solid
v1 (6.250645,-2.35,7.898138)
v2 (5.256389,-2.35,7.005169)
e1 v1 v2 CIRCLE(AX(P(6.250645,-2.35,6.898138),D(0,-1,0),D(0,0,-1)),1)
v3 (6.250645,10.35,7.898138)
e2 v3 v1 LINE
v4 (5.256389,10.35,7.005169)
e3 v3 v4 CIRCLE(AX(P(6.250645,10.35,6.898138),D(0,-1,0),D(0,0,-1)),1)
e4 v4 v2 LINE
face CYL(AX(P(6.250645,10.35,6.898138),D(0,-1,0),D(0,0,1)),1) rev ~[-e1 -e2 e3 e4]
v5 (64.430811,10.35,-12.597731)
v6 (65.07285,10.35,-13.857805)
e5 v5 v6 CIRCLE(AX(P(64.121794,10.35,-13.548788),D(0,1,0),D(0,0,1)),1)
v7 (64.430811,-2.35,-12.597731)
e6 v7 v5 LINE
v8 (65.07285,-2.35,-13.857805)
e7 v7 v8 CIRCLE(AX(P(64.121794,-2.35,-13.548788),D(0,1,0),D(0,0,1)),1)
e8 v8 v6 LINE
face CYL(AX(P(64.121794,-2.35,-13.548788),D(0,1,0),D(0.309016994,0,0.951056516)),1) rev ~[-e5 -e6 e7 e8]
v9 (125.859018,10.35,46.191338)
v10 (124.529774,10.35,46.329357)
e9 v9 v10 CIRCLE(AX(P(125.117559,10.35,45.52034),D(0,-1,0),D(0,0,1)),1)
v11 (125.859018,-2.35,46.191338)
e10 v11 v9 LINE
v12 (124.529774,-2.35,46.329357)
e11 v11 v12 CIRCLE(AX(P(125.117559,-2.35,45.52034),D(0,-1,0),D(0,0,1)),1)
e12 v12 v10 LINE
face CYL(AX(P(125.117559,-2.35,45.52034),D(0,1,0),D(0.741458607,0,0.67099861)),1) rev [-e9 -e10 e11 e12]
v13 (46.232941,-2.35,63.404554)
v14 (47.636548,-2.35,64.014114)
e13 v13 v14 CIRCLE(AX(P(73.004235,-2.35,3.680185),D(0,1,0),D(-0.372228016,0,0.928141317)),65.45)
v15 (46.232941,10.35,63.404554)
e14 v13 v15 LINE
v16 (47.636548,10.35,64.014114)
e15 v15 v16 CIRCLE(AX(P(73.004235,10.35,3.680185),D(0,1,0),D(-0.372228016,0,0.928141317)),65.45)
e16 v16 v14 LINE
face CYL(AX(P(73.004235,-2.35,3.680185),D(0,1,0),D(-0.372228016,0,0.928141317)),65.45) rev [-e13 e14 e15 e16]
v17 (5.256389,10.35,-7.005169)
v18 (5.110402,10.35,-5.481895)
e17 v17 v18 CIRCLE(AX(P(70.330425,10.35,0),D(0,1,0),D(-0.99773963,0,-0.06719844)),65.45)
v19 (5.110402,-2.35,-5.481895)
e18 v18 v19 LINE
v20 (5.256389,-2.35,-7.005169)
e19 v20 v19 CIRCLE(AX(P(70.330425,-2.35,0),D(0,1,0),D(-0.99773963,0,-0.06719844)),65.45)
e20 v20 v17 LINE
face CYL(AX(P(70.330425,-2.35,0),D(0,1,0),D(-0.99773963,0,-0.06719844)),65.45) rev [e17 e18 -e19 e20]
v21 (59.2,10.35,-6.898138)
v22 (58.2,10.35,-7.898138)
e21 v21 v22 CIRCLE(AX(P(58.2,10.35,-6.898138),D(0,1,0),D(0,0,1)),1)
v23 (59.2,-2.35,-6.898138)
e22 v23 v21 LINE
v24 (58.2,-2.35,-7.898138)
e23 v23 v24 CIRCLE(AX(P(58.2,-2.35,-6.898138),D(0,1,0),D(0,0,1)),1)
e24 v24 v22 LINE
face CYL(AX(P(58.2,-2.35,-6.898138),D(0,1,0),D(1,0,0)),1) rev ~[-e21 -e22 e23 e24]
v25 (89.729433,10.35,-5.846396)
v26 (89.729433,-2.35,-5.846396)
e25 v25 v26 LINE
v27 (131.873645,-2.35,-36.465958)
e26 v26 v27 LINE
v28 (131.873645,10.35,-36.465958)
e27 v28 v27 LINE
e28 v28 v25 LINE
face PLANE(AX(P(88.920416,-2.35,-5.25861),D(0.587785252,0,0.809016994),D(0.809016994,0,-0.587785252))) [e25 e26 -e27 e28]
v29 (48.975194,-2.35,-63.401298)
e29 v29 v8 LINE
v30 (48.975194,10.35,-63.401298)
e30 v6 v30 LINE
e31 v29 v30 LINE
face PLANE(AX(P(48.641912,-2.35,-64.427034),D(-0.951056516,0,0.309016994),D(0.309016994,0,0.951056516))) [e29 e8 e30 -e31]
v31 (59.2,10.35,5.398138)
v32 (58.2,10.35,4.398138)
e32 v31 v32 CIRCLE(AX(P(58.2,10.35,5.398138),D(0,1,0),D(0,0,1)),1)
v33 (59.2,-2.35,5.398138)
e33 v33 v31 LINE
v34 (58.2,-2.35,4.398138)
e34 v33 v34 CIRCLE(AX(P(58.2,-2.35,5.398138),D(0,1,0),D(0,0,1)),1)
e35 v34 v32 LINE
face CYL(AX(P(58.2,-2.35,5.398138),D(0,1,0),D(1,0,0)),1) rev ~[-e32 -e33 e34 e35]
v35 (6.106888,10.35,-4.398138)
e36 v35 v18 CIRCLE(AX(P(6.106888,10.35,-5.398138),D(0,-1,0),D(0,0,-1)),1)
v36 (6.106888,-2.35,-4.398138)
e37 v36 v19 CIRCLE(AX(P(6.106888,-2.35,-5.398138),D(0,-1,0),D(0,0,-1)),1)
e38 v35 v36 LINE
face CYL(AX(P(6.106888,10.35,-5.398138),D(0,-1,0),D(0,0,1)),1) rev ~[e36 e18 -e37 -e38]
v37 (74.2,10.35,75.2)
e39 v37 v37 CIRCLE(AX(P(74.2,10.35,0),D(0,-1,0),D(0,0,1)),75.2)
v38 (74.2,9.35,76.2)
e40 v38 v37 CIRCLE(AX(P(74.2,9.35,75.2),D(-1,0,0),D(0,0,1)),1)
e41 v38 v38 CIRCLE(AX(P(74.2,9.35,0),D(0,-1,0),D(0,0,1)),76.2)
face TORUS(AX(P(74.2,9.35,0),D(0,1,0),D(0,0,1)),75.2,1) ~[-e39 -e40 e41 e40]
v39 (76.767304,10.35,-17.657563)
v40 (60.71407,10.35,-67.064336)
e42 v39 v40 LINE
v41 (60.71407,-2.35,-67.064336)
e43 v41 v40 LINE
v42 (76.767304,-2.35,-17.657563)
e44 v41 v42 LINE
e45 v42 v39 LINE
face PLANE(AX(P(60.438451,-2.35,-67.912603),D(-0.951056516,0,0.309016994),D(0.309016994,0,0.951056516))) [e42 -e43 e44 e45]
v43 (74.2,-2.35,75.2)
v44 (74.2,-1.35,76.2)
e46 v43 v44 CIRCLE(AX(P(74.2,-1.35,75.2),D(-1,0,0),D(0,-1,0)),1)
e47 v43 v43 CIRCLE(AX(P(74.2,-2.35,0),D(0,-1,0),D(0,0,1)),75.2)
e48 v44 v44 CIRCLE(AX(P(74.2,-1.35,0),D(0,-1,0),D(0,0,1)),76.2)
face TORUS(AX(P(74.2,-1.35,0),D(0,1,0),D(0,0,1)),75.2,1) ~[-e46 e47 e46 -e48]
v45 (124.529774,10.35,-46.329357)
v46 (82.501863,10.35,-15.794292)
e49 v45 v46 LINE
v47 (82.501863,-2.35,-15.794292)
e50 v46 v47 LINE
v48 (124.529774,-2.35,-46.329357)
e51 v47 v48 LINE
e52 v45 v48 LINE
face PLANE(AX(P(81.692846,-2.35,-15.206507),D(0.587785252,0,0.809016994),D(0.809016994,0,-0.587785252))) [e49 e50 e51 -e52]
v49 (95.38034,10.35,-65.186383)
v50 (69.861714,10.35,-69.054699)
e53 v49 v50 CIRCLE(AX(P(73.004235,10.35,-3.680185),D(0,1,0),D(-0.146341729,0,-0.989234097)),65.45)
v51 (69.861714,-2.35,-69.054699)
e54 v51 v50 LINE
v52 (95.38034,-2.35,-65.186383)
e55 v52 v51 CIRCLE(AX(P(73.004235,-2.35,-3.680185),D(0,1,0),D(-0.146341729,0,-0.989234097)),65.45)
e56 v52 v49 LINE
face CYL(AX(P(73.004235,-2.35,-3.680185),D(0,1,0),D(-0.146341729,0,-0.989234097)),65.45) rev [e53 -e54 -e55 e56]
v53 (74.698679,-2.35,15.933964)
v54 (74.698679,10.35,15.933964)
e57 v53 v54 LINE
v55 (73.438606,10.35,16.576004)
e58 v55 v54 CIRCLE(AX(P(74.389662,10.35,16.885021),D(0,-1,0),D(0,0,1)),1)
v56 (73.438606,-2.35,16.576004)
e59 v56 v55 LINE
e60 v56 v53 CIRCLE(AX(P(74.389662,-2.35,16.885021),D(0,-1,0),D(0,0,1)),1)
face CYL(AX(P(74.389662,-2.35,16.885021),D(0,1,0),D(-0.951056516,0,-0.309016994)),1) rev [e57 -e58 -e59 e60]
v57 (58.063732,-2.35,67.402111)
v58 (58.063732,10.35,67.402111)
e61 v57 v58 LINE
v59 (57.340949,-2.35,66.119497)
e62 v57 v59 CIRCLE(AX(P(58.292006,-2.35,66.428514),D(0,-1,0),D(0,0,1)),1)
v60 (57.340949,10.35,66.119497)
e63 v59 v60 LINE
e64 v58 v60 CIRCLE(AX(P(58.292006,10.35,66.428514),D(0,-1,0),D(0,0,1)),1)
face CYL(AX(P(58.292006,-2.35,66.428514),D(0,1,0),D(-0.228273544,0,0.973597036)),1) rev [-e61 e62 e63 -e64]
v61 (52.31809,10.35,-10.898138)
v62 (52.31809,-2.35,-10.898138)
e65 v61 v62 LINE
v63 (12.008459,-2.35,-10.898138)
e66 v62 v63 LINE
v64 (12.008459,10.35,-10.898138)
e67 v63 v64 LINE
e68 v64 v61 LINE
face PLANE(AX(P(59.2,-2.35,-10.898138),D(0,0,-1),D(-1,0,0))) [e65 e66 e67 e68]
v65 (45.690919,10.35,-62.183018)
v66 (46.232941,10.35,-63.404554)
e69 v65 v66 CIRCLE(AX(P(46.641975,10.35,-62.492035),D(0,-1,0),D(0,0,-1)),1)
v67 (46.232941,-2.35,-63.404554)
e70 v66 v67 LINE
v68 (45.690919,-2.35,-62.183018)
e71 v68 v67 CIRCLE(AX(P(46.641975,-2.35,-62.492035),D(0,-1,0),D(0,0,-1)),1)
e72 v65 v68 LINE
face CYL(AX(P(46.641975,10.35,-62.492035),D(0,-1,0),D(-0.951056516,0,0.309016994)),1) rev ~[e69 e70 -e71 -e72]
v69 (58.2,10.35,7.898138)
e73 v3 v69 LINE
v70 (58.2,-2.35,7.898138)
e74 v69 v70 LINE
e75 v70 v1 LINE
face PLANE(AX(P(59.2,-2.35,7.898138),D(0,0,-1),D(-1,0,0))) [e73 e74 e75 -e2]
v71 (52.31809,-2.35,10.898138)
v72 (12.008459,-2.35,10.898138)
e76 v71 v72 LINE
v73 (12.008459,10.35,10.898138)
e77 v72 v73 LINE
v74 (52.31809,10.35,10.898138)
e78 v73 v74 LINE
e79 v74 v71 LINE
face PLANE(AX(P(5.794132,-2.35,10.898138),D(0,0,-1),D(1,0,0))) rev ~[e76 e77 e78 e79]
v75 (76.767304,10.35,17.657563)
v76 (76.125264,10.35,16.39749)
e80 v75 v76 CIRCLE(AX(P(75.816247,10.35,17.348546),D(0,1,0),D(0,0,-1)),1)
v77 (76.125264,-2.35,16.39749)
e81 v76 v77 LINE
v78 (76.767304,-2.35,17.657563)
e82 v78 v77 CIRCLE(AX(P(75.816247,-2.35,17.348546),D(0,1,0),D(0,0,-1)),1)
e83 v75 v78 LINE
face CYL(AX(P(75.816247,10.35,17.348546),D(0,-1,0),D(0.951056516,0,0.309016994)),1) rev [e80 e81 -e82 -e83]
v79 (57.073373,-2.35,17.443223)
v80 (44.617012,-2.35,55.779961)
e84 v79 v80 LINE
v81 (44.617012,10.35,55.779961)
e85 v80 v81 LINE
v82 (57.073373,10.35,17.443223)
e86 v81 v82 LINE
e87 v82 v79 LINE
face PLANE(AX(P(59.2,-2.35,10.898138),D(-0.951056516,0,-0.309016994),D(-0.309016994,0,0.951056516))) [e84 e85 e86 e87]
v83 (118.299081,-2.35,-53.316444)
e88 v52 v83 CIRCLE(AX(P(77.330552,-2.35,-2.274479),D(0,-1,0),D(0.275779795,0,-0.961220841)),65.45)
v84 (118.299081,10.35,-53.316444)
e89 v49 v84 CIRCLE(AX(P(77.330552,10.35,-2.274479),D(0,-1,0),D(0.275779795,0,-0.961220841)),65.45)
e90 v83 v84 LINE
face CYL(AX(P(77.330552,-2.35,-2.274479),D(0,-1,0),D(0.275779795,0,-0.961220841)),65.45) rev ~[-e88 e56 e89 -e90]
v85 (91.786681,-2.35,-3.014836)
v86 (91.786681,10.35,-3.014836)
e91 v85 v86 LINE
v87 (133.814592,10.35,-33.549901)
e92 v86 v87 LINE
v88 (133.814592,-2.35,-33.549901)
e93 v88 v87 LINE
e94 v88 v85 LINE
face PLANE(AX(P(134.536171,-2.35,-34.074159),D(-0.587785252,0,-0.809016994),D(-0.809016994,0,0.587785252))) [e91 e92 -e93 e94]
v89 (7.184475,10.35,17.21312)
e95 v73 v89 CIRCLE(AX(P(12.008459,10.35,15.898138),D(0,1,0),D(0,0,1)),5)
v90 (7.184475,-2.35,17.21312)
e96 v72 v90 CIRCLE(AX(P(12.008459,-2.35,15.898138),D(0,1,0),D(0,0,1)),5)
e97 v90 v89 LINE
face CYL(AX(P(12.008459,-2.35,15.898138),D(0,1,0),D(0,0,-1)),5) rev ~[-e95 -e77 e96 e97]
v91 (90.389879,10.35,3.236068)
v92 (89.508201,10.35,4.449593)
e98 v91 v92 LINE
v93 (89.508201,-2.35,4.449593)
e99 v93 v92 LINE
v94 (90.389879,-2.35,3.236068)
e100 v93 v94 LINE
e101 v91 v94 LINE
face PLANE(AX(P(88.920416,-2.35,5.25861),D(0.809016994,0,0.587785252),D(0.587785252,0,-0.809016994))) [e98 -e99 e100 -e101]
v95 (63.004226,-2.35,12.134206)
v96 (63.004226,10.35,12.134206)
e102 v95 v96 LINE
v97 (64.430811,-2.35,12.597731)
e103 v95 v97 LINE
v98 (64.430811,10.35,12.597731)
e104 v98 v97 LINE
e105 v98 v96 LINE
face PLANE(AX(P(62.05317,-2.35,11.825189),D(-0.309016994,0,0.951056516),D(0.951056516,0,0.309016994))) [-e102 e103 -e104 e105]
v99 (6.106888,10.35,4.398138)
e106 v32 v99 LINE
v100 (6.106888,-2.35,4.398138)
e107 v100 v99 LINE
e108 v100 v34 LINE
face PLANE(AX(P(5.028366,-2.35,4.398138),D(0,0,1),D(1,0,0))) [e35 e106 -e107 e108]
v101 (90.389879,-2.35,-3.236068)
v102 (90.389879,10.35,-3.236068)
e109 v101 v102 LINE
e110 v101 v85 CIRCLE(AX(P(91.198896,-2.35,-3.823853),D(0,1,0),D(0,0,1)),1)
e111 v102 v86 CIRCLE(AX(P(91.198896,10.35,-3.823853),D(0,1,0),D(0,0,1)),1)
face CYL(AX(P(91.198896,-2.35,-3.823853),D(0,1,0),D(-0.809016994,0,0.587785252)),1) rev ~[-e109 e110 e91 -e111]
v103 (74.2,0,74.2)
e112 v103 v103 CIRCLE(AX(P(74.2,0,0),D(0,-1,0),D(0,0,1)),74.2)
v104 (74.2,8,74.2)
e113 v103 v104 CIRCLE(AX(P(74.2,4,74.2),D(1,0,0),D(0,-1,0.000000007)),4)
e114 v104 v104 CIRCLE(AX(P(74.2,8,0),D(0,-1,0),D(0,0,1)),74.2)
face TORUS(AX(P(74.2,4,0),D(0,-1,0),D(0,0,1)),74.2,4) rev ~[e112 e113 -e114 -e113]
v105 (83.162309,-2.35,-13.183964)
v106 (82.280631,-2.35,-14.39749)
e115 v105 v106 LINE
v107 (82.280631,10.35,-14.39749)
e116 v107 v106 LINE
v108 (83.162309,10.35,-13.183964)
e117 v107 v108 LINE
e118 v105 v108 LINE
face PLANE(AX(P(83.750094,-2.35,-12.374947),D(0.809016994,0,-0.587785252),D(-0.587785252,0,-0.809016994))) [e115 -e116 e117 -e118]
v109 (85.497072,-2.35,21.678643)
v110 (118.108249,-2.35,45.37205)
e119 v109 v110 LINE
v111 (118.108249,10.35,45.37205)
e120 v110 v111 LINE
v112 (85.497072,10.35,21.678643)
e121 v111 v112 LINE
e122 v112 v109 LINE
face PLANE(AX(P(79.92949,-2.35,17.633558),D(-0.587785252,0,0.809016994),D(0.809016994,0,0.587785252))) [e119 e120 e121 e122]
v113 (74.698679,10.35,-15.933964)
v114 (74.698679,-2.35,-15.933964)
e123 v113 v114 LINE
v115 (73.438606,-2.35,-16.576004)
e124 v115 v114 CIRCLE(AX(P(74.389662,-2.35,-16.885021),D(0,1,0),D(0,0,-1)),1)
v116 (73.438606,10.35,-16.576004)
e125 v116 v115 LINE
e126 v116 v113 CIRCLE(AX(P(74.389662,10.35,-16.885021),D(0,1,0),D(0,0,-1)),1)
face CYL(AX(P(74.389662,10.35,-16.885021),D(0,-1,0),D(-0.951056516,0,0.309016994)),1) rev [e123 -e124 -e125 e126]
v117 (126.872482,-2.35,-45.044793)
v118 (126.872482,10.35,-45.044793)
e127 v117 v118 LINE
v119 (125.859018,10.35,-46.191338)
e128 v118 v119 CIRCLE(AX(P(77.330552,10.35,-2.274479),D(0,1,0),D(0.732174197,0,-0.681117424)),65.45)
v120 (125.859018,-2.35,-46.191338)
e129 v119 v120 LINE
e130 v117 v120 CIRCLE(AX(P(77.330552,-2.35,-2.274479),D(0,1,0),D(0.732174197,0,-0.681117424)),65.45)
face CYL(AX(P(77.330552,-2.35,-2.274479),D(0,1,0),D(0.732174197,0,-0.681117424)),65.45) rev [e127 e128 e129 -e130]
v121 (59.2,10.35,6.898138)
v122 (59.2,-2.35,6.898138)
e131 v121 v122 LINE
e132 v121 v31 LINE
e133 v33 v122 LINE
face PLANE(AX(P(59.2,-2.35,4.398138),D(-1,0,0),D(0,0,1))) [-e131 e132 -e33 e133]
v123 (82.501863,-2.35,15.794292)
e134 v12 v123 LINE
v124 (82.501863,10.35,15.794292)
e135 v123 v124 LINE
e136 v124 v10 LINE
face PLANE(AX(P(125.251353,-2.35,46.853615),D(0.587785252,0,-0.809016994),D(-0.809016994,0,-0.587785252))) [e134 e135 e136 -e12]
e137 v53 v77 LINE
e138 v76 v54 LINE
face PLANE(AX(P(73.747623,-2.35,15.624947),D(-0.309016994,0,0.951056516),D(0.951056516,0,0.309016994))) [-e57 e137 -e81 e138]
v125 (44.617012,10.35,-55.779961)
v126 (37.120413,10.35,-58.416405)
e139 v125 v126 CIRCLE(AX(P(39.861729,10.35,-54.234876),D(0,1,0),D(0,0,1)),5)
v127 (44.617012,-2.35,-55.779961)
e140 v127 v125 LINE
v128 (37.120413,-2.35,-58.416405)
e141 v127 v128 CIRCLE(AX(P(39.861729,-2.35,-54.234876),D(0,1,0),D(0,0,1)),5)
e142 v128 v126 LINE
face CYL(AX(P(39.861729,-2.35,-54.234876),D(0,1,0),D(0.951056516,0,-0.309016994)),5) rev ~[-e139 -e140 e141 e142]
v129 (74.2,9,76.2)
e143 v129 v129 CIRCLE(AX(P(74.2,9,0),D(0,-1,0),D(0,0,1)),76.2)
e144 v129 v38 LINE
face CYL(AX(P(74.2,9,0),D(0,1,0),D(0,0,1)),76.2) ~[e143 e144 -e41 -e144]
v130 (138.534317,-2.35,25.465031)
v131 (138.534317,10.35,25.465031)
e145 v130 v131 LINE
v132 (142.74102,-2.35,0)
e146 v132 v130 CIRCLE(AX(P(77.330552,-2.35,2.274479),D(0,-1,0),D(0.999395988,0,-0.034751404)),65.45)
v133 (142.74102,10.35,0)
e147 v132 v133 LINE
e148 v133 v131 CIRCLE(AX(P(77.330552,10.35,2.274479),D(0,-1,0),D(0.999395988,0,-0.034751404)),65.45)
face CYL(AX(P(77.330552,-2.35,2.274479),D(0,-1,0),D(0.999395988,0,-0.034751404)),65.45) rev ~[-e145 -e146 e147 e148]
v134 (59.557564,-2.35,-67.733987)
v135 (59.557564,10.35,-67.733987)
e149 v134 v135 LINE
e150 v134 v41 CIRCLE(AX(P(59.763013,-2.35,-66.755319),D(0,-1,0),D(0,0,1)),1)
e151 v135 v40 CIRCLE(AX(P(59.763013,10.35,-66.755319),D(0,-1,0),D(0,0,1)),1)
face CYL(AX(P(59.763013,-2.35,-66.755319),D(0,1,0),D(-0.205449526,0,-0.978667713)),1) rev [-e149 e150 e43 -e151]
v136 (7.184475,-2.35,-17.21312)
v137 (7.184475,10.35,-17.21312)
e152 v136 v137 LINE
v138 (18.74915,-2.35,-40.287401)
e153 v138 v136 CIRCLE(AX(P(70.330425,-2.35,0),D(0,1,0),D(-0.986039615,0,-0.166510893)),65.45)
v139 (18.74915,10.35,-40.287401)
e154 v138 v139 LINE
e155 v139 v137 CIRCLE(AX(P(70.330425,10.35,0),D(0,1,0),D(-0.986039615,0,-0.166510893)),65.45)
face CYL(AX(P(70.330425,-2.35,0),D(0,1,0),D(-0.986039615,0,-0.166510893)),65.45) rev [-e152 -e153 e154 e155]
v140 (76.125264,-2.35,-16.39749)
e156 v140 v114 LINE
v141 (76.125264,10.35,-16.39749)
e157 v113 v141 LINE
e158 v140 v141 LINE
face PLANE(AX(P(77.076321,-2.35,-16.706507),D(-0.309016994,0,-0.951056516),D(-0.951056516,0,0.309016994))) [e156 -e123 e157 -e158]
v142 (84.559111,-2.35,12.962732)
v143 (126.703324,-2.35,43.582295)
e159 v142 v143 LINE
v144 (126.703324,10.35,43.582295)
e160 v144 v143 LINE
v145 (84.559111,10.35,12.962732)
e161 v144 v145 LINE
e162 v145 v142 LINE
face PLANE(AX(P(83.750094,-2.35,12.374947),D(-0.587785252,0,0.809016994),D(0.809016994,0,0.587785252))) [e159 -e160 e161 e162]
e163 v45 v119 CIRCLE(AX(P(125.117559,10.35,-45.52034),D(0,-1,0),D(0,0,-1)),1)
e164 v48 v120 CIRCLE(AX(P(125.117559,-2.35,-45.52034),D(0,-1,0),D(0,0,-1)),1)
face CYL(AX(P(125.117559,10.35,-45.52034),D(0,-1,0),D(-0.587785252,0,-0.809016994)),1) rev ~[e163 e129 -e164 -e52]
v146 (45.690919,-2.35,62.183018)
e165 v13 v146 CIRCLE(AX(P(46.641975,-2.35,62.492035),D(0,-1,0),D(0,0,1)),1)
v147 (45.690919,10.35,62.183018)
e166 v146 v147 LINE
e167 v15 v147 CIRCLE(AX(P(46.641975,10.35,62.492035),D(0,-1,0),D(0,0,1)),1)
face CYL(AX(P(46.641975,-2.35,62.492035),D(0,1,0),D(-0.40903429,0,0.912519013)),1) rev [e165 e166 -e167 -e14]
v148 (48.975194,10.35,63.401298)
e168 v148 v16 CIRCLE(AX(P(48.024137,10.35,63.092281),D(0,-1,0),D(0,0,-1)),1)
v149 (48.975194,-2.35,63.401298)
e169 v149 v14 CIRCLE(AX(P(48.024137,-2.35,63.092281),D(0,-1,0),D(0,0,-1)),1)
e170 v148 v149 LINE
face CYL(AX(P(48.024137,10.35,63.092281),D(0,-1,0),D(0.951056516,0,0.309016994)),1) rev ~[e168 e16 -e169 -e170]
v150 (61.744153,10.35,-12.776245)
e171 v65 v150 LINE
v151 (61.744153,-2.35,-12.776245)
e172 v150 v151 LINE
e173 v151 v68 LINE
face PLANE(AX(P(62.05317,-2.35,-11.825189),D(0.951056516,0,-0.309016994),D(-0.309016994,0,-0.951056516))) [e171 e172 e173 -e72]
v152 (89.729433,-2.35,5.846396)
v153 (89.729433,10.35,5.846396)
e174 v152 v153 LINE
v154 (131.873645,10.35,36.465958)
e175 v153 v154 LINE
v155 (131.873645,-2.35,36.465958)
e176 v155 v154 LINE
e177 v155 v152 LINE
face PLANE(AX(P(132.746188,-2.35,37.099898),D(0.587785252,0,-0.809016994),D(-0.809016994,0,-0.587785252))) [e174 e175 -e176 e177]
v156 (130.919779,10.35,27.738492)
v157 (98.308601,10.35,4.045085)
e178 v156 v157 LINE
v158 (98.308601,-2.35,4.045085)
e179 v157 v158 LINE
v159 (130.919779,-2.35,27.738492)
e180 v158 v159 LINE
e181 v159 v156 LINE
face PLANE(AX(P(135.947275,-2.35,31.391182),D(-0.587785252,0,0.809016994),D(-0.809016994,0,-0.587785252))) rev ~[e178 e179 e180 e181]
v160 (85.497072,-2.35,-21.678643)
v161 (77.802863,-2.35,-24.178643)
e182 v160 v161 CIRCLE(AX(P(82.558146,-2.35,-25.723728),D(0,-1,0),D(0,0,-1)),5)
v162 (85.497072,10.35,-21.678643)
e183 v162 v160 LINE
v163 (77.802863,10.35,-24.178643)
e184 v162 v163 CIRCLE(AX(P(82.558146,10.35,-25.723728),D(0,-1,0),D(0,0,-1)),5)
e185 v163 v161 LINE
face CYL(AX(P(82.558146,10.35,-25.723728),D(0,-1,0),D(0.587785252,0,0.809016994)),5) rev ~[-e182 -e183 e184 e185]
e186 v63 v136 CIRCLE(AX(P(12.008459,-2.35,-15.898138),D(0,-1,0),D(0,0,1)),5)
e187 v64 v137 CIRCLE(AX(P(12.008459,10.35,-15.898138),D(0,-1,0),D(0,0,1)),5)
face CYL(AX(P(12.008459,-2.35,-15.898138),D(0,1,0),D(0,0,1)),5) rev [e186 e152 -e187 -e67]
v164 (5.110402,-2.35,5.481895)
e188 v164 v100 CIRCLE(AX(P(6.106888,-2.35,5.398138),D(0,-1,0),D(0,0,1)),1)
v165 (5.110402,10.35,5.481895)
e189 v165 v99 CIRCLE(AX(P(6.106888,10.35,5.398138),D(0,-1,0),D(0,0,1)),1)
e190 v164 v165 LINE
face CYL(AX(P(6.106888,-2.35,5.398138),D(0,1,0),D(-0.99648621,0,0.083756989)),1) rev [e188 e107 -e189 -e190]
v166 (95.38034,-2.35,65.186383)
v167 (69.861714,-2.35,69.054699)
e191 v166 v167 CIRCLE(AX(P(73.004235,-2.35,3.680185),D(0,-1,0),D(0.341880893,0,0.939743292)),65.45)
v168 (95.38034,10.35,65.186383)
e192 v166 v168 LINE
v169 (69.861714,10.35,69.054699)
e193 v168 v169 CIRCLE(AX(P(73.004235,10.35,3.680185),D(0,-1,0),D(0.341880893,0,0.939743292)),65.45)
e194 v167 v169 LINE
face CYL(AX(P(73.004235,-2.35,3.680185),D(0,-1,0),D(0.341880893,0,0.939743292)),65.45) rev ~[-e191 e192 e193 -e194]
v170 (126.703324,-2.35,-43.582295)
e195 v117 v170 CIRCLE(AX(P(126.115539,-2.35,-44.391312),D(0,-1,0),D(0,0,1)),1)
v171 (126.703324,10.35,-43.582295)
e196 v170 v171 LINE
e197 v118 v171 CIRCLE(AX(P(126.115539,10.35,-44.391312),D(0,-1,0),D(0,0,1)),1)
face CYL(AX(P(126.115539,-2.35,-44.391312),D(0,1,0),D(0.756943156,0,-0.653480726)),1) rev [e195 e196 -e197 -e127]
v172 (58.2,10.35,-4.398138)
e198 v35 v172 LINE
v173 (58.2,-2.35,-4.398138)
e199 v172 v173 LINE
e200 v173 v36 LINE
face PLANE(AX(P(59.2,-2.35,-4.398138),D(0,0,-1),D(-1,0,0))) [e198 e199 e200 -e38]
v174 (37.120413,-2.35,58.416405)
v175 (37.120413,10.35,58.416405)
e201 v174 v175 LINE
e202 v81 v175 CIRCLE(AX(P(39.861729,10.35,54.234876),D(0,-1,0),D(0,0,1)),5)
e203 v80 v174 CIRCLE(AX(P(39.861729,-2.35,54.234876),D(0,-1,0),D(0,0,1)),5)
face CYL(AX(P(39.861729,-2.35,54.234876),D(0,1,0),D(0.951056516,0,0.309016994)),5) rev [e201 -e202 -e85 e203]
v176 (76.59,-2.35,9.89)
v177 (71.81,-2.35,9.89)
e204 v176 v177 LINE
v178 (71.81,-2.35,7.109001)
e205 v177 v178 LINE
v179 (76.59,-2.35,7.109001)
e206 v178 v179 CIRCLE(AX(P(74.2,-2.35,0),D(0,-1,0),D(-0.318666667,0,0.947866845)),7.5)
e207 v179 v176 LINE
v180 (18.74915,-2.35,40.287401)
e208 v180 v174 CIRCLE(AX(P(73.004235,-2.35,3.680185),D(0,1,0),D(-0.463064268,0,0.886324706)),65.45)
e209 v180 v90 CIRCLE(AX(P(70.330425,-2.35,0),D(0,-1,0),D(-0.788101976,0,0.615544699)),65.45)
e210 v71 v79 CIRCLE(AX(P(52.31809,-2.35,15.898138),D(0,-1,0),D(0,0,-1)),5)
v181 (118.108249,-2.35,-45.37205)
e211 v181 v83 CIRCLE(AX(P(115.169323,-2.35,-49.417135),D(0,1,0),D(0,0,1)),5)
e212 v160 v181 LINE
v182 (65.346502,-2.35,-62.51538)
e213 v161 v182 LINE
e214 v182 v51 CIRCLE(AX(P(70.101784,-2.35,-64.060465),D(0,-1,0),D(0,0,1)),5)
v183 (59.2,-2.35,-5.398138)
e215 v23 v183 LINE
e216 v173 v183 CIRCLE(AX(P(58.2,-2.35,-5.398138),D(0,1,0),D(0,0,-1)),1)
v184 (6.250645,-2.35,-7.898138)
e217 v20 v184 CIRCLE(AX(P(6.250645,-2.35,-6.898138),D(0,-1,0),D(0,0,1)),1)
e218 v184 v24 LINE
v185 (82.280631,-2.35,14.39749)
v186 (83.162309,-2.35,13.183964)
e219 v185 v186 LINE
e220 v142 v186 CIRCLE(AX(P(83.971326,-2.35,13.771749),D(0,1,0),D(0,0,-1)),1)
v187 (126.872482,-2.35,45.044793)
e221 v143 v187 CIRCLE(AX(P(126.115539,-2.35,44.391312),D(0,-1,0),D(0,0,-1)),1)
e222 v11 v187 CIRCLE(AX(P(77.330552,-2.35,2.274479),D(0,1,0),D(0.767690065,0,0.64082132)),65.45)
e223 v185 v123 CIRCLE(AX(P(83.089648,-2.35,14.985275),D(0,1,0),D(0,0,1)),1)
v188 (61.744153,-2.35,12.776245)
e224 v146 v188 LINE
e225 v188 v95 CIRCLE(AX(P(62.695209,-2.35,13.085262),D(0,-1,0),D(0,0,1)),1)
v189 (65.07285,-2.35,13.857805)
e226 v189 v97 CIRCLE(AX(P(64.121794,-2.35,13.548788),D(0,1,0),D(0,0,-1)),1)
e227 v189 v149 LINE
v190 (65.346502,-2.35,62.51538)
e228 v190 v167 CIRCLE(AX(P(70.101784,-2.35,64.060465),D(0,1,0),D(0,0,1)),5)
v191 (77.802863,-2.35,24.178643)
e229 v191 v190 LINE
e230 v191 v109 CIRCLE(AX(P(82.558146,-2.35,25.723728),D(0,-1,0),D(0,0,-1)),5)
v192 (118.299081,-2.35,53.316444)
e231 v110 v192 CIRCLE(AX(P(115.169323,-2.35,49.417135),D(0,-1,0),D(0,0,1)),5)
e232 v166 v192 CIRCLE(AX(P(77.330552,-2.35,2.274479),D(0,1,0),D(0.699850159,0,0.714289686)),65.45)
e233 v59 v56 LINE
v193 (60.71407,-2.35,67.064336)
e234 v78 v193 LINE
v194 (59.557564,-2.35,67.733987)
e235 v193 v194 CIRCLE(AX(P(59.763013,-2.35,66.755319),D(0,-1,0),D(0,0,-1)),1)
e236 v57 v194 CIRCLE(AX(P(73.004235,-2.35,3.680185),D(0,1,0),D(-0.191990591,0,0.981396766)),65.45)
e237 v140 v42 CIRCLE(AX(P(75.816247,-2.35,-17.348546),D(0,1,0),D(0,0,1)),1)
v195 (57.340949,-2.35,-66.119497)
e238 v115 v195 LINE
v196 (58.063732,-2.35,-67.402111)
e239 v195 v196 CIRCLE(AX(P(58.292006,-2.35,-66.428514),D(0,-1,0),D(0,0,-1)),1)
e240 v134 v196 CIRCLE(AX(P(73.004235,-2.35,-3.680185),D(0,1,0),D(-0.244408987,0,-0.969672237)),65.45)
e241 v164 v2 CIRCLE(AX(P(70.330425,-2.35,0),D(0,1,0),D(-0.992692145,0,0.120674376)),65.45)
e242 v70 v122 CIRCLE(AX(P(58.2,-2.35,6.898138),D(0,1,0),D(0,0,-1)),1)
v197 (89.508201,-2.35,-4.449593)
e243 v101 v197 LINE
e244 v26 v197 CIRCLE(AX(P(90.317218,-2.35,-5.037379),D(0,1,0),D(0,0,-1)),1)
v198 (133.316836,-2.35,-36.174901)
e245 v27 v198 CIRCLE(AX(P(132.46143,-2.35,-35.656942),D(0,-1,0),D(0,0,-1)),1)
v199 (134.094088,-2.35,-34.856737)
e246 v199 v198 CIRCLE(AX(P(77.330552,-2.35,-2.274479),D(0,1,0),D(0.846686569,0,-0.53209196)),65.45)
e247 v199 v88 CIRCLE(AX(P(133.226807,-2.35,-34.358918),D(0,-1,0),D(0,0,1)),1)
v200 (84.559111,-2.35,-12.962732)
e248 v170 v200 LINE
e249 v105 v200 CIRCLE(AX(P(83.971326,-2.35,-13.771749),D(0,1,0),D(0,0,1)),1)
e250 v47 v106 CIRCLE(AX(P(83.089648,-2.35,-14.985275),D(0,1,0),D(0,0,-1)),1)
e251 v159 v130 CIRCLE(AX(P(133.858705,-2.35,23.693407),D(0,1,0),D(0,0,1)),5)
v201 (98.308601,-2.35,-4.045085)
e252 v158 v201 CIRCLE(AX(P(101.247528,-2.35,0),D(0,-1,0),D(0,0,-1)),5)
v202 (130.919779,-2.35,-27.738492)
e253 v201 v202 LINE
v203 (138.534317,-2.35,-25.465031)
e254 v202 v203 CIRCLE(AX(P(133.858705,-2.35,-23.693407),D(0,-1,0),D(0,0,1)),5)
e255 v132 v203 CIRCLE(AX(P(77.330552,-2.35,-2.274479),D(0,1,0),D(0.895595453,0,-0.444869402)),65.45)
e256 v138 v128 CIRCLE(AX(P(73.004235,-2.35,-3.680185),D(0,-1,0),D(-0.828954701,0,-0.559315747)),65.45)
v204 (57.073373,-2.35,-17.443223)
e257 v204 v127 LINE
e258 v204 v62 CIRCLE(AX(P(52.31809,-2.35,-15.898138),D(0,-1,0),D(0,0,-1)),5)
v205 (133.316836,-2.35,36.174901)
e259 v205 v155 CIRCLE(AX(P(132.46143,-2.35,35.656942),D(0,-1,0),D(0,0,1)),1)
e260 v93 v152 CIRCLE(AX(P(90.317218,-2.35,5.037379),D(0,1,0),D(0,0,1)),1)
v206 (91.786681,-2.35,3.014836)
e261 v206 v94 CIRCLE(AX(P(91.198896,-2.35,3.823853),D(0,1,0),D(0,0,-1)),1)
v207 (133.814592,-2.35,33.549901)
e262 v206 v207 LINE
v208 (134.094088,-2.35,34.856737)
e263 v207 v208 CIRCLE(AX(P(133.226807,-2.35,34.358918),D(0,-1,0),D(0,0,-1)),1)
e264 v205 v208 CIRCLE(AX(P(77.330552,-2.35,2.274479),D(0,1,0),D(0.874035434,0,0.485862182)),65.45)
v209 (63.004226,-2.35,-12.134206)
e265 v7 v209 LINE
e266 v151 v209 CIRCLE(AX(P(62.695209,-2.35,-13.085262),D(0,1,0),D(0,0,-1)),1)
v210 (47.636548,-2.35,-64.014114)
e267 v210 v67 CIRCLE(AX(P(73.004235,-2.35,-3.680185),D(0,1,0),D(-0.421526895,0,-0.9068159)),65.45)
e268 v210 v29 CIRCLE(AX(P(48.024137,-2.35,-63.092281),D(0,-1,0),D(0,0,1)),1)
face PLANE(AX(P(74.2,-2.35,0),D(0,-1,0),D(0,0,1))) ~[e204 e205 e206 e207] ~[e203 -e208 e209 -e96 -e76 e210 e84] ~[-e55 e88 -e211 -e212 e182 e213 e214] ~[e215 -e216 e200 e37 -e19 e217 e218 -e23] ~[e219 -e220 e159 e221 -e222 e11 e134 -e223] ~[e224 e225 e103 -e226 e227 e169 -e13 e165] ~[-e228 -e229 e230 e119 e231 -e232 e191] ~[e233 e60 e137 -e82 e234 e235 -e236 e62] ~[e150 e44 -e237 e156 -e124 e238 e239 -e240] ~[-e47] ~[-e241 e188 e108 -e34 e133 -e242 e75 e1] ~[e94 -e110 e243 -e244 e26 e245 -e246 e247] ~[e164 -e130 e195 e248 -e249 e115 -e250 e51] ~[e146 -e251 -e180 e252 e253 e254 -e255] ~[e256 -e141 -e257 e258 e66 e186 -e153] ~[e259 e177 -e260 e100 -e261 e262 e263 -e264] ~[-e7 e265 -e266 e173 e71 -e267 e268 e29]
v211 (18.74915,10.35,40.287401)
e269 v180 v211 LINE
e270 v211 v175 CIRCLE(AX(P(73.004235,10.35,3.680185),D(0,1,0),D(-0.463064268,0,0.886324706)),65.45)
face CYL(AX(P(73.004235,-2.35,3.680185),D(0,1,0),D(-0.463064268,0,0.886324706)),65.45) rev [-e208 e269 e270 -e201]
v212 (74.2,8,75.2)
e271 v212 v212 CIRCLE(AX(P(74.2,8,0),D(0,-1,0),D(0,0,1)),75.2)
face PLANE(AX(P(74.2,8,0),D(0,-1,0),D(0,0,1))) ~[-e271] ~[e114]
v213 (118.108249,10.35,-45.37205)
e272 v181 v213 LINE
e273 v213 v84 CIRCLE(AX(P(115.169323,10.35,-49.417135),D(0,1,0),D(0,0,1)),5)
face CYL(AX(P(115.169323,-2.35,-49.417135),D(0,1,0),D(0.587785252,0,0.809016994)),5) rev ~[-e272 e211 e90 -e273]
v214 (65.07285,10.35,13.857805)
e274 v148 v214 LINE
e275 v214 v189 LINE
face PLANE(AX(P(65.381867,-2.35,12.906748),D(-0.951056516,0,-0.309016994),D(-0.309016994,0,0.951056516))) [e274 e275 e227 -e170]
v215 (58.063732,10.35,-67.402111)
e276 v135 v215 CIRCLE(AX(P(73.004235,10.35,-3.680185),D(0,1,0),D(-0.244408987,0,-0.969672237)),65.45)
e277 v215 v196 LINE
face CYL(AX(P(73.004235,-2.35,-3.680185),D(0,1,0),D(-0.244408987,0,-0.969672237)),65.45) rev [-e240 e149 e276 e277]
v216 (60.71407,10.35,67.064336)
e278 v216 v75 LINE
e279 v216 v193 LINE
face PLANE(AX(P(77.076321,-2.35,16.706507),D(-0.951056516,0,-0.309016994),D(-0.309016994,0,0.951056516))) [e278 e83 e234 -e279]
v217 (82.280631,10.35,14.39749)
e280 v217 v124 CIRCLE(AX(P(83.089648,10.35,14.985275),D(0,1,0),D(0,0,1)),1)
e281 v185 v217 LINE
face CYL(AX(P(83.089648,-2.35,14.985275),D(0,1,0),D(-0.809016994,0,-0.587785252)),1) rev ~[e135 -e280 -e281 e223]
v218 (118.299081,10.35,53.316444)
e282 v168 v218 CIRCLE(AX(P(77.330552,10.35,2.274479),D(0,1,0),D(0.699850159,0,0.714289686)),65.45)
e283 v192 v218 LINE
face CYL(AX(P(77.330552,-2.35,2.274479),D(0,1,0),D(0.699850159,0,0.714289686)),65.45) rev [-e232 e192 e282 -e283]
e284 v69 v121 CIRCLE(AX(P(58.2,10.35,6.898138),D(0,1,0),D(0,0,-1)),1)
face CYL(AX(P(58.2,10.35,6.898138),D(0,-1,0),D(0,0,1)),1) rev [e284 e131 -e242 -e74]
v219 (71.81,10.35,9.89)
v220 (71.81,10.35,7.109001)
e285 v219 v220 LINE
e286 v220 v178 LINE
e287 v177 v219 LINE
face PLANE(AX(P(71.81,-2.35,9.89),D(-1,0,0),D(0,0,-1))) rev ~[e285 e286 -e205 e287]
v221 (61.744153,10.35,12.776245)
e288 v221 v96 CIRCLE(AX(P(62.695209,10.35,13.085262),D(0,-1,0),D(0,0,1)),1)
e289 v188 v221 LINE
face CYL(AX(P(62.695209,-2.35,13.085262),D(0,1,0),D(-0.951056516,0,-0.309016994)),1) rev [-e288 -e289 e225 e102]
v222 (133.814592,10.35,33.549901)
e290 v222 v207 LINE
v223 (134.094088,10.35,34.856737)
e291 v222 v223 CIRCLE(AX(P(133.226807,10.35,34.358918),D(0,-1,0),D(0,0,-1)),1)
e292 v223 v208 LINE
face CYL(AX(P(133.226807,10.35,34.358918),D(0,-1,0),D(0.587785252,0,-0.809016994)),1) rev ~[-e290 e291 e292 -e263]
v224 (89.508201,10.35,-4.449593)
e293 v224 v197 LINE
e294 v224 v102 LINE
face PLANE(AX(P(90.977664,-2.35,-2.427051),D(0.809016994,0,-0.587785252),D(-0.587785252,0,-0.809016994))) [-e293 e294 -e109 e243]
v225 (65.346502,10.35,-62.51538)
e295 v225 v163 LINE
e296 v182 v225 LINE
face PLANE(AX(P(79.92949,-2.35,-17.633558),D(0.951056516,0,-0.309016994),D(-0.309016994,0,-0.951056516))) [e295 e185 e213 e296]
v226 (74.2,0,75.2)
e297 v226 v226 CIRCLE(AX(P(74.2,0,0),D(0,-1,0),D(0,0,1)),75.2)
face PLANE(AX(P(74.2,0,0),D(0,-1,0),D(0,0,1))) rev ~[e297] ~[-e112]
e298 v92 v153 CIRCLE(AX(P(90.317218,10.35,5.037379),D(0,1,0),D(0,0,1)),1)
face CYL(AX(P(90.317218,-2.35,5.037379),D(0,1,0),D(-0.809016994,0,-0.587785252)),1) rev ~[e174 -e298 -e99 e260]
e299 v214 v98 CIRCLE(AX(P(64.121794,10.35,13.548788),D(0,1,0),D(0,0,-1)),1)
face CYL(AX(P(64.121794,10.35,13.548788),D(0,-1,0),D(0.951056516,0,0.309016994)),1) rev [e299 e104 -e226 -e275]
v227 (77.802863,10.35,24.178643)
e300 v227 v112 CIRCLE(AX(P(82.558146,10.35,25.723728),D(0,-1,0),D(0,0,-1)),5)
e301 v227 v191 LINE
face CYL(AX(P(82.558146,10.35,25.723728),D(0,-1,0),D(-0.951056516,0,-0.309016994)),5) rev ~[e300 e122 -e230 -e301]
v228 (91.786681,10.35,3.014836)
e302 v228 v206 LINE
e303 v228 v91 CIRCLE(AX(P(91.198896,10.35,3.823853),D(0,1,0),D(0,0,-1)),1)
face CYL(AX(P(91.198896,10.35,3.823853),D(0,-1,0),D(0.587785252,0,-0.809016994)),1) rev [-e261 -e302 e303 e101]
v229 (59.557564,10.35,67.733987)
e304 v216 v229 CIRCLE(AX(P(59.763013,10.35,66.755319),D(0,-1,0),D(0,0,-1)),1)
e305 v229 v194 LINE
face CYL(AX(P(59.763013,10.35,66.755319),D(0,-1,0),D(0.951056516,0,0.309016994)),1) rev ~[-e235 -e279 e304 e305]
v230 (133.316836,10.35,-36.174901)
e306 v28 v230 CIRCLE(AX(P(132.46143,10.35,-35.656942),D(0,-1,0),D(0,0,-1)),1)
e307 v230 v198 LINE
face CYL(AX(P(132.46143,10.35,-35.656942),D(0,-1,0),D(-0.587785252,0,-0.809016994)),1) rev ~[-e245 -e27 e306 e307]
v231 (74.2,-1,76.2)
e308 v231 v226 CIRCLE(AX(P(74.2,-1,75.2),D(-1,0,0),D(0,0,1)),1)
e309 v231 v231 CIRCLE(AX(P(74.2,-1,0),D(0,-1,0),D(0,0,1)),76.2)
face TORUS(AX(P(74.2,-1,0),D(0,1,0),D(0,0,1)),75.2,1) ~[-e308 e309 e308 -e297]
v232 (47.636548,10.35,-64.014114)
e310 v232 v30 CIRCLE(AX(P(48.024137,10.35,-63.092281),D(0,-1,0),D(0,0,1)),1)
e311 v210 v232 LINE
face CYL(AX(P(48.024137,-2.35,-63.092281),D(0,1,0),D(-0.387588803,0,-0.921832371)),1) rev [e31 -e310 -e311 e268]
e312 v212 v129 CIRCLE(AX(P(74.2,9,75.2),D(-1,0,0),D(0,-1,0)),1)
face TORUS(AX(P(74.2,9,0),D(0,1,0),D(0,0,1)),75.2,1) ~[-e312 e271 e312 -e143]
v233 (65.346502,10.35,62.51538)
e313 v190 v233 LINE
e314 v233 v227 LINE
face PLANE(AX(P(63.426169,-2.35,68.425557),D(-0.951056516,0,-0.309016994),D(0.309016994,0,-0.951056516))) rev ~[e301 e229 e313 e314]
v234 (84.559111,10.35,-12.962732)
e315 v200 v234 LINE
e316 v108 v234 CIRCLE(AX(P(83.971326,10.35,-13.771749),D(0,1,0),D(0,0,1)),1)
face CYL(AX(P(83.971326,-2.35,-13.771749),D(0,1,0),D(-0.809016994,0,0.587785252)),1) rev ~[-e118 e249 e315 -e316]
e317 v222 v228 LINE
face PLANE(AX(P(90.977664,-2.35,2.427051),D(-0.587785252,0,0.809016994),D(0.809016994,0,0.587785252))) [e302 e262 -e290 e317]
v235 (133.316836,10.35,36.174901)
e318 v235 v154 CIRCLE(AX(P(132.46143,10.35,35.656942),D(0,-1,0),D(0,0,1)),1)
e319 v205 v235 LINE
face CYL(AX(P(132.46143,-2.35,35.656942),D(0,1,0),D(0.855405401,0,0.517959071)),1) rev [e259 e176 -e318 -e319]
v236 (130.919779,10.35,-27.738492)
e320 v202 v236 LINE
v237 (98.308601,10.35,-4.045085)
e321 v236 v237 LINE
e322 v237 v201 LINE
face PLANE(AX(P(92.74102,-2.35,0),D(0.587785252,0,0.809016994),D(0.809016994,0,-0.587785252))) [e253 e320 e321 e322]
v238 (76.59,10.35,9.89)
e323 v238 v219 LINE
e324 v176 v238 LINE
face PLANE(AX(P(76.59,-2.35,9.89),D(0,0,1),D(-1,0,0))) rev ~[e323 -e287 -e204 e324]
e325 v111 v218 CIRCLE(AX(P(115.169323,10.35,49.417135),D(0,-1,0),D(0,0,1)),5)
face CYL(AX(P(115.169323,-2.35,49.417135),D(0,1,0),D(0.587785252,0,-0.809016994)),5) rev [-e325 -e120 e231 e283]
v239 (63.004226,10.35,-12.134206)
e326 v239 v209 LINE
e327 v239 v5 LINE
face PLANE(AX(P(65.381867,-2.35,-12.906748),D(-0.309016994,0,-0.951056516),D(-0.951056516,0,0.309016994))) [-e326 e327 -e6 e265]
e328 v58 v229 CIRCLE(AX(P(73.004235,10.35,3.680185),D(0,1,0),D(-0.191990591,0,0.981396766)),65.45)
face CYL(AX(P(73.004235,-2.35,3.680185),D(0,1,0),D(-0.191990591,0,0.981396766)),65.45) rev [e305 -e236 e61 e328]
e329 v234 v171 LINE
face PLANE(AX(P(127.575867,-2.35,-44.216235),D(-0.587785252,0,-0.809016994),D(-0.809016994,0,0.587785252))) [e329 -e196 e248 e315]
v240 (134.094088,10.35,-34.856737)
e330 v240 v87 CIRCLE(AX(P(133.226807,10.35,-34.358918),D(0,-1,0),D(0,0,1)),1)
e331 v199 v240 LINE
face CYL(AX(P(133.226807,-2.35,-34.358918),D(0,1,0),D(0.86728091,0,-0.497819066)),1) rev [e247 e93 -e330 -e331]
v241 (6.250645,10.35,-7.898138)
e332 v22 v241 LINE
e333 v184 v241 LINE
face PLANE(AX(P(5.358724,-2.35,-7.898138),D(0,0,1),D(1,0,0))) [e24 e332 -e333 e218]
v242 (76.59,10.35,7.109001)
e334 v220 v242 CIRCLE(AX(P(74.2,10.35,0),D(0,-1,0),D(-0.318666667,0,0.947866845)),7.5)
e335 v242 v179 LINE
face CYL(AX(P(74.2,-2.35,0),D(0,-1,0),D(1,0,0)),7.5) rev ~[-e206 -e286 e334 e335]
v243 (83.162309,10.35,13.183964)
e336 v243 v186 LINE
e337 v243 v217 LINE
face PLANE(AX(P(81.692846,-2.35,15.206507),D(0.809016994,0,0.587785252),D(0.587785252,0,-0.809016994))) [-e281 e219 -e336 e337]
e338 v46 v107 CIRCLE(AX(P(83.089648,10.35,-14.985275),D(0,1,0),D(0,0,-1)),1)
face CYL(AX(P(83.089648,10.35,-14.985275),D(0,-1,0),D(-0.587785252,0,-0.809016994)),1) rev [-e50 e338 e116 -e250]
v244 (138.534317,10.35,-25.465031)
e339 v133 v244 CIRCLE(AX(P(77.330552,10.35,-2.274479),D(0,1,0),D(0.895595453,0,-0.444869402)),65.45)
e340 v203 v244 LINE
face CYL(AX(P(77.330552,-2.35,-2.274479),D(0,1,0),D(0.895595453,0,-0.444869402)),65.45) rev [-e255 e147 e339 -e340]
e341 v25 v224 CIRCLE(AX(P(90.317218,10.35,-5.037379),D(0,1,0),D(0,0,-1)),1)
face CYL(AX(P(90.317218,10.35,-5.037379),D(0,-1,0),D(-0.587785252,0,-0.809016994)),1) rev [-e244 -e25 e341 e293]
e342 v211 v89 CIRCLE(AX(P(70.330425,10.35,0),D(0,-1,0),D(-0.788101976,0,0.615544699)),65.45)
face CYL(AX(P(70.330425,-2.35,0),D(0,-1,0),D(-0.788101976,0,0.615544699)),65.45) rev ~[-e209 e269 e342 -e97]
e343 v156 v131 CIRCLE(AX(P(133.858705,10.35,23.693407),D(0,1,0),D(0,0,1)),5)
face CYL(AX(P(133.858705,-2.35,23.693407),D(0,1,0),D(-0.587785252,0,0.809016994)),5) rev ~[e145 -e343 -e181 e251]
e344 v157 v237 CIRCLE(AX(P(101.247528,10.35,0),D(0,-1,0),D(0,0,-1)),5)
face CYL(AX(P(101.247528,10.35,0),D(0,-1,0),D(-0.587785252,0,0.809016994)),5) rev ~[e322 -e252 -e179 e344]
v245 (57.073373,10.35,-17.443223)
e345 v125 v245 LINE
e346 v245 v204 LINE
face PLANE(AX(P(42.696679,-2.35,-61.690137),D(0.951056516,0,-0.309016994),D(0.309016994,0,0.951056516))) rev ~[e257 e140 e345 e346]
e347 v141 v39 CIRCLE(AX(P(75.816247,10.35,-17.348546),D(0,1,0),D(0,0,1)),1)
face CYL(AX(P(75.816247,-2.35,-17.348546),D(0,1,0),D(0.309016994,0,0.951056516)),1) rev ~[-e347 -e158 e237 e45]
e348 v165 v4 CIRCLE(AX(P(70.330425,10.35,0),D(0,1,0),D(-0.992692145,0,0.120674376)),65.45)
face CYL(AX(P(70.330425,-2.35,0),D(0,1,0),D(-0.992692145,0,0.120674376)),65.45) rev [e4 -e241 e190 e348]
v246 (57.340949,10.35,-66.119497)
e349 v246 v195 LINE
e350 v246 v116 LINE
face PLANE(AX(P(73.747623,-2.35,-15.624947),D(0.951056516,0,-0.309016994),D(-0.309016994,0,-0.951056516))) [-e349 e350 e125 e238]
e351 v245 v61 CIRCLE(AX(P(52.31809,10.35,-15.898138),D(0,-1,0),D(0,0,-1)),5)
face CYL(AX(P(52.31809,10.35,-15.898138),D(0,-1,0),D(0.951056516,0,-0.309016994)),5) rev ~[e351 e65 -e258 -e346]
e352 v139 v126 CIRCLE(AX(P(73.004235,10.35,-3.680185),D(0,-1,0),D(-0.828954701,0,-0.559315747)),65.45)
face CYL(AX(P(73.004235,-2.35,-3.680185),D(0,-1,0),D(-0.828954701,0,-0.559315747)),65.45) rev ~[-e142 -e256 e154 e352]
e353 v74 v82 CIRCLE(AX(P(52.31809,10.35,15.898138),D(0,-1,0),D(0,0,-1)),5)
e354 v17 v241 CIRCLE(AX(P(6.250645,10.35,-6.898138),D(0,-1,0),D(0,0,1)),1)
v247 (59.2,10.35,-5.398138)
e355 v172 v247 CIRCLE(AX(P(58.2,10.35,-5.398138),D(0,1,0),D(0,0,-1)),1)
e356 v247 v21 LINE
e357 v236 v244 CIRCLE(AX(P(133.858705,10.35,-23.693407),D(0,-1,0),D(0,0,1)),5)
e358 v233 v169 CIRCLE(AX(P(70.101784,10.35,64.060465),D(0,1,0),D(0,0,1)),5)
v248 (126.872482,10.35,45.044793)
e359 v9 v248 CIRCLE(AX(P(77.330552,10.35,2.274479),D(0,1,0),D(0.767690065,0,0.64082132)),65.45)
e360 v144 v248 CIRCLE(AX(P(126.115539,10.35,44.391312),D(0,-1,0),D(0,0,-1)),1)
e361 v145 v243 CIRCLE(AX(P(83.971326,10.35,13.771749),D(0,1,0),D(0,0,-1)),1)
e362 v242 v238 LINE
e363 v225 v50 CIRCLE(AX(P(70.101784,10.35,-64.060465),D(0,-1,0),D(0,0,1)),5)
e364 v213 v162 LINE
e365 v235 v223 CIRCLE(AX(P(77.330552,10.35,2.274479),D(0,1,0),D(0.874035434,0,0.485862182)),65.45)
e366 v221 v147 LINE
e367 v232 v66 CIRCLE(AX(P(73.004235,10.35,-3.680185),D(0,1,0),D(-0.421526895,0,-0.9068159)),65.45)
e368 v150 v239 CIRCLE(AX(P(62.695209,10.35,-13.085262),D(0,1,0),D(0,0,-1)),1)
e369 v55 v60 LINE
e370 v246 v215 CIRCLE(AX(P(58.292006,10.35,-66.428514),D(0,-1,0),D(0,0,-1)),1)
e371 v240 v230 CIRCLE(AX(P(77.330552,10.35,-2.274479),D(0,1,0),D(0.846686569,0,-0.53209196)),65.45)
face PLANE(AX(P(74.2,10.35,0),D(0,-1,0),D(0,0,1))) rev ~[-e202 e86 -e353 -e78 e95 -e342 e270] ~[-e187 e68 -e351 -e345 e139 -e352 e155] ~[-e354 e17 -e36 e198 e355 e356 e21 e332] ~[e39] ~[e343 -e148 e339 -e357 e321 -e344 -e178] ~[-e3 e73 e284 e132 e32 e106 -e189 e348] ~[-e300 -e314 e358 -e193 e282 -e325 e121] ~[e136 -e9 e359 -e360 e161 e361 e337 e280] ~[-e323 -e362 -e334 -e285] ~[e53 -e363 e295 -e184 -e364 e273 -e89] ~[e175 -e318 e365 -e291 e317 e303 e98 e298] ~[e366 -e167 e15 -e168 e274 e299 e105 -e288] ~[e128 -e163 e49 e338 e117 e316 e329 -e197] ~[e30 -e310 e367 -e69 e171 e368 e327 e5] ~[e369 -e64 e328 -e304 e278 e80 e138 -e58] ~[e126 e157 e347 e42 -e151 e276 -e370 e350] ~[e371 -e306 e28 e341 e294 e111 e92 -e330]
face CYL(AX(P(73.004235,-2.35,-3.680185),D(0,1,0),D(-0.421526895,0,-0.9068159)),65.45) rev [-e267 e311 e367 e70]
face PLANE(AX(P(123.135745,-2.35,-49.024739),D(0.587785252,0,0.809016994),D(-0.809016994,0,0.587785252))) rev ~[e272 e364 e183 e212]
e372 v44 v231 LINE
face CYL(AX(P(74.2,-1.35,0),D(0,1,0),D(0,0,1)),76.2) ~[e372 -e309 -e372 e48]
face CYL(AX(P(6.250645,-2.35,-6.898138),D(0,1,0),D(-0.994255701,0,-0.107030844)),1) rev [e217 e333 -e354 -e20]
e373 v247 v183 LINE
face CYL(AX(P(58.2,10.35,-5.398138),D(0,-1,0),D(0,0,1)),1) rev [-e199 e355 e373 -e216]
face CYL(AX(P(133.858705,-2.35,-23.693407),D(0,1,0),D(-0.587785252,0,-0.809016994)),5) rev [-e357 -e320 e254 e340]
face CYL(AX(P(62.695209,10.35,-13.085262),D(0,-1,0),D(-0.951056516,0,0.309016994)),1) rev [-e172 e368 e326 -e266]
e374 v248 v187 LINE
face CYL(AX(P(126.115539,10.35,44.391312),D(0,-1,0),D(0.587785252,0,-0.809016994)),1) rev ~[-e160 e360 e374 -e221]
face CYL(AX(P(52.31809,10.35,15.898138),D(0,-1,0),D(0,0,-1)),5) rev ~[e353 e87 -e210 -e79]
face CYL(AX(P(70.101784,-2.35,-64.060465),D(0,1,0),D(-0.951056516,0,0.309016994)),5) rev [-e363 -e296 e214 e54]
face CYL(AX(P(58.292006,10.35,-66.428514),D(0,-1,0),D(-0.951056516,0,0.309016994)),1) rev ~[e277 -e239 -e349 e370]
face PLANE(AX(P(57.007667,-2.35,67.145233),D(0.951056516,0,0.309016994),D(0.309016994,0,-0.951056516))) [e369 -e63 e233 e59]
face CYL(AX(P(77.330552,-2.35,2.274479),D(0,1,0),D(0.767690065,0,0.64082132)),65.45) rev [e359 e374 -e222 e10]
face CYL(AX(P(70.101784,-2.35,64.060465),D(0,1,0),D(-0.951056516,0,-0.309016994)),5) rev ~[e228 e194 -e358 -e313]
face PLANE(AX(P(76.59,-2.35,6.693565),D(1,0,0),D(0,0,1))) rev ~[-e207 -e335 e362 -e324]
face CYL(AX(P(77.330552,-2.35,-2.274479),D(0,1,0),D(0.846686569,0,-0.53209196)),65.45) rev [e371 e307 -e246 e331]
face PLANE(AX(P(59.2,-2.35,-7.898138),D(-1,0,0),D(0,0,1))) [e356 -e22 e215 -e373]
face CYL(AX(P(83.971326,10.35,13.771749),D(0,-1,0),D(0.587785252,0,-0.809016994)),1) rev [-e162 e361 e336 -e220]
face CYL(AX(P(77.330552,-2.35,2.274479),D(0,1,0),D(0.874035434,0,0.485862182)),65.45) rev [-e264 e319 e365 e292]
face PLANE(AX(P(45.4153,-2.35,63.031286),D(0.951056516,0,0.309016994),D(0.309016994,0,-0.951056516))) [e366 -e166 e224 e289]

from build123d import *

# Parameters (mm, degrees)
SKETCH2_R          = 7.500000000000012
CUT_EXTRUDE3_DEPTH = 170.07953750392153
CUT_EXTRUDE5_DEPTH = 170.07953750392153
CUT_EXTRUDE7_DEPTH = 170.07953750392153
CIRPATTERN1_COUNT  = 5
FILLET1_R          = 5
FILLET2_R          = 5
FILLET3_R          = 1


with BuildPart() as part:
    # Sketch1 → Revolve2 (revolve)
    with BuildSketch(Plane.XY, mode=Mode.PRIVATE) as revolve2_sk:
        with BuildLine():
            Line((-4.3e-16, 8), (-1.0000000000000004, 8))
            ThreePointArc((-1.0000000000000004, 8), (-1.7071067811865492, 8.292893218813454), (-2.0000000000000004, 9.000000000000002))
            Line((-2.0000000000000004, 9.000000000000002), (-1.9999999999999996, 9.350000000000001))
            ThreePointArc((-1.9999999999999996, 9.350000000000001), (-1.7071067811865472, 10.057106781186548), (-1.0000000000000004, 10.350000000000001))
            Line((-1.0000000000000004, 10.350000000000001), (74.2, 10.35))
            Line((74.2, 10.35), (74.2, -2.3499999999999996))
            Line((74.2, -2.3499999999999996), (-1.0000000000000004, -2.3500000000000014))
            ThreePointArc((-1.0000000000000004, -2.3500000000000014), (-1.7071067811865475, -2.0571067811865476), (-1.9999999999999996, -1.3500000000000005))
            Line((-1.9999999999999996, -1.3500000000000005), (-2.0000000000000004, -1))
            ThreePointArc((-2.0000000000000004, -1), (-1.707106781186548, -0.2928932188134522), (-1.0000000000000002, 2.2e-16))
            Line((-1.0000000000000002, 2.2e-16), (0, 0))
            ThreePointArc((0, 0), (4.000000027037184, 4), (-4.3e-16, 8))
        make_face()
    revolve(revolve2_sk.sketch.rotate(Axis((74.2, 10.35, 0), (0, -1, 0)), 270), axis=Axis((74.2, 10.35, 0), (0, -1, 0)))

    # Sketch2 → Cut-Extrude3 (cut, through all)
    with BuildSketch(Plane.XZ.offset(2.35)):
        with Locations((74.2, 0)):
            Circle(SKETCH2_R)
    extrude(amount=-CUT_EXTRUDE3_DEPTH, mode=Mode.SUBTRACT)

    # Sketch5 → Cut-Extrude5 (cut, through all)
    with BuildSketch(Plane.XZ.offset(2.35)):
        with BuildLine():
            ThreePointArc((71.80999999999983, 7.109001336334053), (72.98911396541733, 7.401604894295077), (74.2, 7.500000000000012))
            Line((74.2, 7.500000000000007), (74.2, 9.890000000000006))
            Line((74.2, 9.890000000000006), (71.81, 9.890000000000006))
            Line((71.81, 9.890000000000006), (71.81, 7.109001336334006))
        make_face()
        with BuildLine():
            Line((74.2, 9.890000000000006), (74.2, 7.500000000000007))
            ThreePointArc((74.2, 7.500000000000012), (75.41088603458262, 7.401604894295087), (76.59000000000006, 7.1090013363340905))
            Line((76.59, 7.109001336334073), (76.59, 9.890000000000006))
            Line((76.59, 9.890000000000006), (74.2, 9.890000000000006))
        make_face()
        with BuildLine():
            Line((74.2, 6.693565352915491), (74.2, 7.500000000000007))
            ThreePointArc((74.2, 7.500000000000012), (72.98911396541733, 7.401604894295077), (71.80999999999983, 7.109001336334053))
            Line((71.81, 7.109001336334006), (71.81, 6.693565352915491))
            Line((71.81, 6.693565352915491), (74.2, 6.693565352915491))
        make_face()
        with BuildLine():
            ThreePointArc((76.59000000000006, 7.1090013363340905), (75.41088603458262, 7.401604894295087), (74.2, 7.500000000000012))
            Line((74.2, 7.500000000000007), (74.2, 6.693565352915491))
            Line((74.2, 6.693565352915491), (76.59, 6.693565352915491))
            Line((76.59, 6.693565352915491), (76.59, 7.109001336334073))
        make_face()
    extrude(amount=-CUT_EXTRUDE5_DEPTH, mode=Mode.SUBTRACT)

    # Sketch3 → Cut-Extrude7 (cut, symmetric)
    with BuildSketch(Plane.XZ.offset(2.35)):
        with BuildLine():
            Line((95.38033988749895, 65.18638338353188), (79.92949016875157, 17.633557568774194))
            Line((79.92949016875157, 17.633557568774194), (123.13574516852024, 49.024739301950376))
            ThreePointArc((123.13574516852026, 49.02473930195039), (110.26479461810771, 58.83451986559545), (95.38033988749895, 65.18638338353188))
        make_face()
        with BuildLine():
            Line((81.692845925629, 15.206506585649347), (83.75009430865265, 12.374947105337036))
            Line((83.75009430865265, 12.37494710533703), (127.57586700245766, 44.21623479008217))
            ThreePointArc((127.57586700245767, 44.21623479008218), (126.43132133107116, 45.55053484950059), (125.2513534655746, 46.85361476986195))
            Line((125.25135346557457, 46.85361476986195), (81.692845925629, 15.206506585649343))
        make_face()
        with BuildLine():
            Line((88.92041552259576, 5.2586104634371535), (90.97766390561942, 2.4270509831248446))
            Line((90.97766390561941, 2.427050983124836), (134.53617144556497, 34.07415916733744))
            ThreePointArc((134.536171445565, 34.074159167337456), (133.66149891930684, 35.599049135257125), (132.74618821640075, 37.09989814818232))
            Line((132.74618821640072, 37.0998981481823), (88.92041552259577, 5.258610463437156))
        make_face()
        with BuildLine():
            Line((135.9472746622656, 31.391181733176005), (92.74101966249684, 0))
            Line((92.74101966249684, 0), (142.74101966249685, 0))
            ThreePointArc((142.74101966249685, -3.55e-15), (141.29958793690867, 16.118791436038173), (135.94727466226564, 31.39118173317601))
        make_face()
    cut_extrude7 = extrude(amount=CUT_EXTRUDE7_DEPTH, both=True, mode=Mode.SUBTRACT)

    # CirPattern1: Cut-Extrude7 ×5 about axis
    cirpattern1_axis = Axis((74.20000000000005, 0, 1.955e-14), (0, 1, 0))
    for i in range(1, CIRPATTERN1_COUNT):
        add(cut_extrude7.rotate(cirpattern1_axis, i * 360 / CIRPATTERN1_COUNT), mode=Mode.SUBTRACT)

    # Fillet1
    fillet1_edges = [part.edges().sort_by_distance(p)[0] for p in [
        (79.92949016875158, 4, -17.633557568774165),
        (59.20000000000006, 4, -10.898137920080366),
        (59.20000000000009, 4, 10.898137920080437),
        (92.74101966249687, 4, 0),
        (79.9294901687516, 4, 17.633557568774194),
    ]]
    fillet(fillet1_edges, radius=FILLET1_R)

    # Fillet2
    fillet2_edges = [part.edges().sort_by_distance(p)[0] for p in [
        (63.42616928543508, 4, -68.42555656007806),
        (123.13574516852012, 4, -49.024739301950504),
        (63.42616928543528, 4, 68.42555656007814),
        (5.794131767095848, 4, -10.898137920080387),
        (42.69667911668331, 4, -61.6901369113842),
        (135.94727466226553, 4, -31.391181733176182),
        (42.6966791166835, 4, 61.69013691138433),
        (5.794131767095877, 4, 10.898137920080636),
        (135.94727466226564, 4, 31.391181733176005),
        (123.13574516852029, 4, 49.02473930195038),
    ]]
    fillet(fillet2_edges, radius=FILLET2_R)

    # Fillet3
    fillet3_edges = [part.edges().sort_by_distance(p)[0] for p in [
        (5.358723682190231, 4, -7.898137920080352),
        (5.028365784003142, 4, -4.398137920080174),
        (59.20000000000009, 4, -4.398137920080387),
        (59.20000000000009, 4, -7.89813792008038),
        (5.028365784003199, 4, 4.398137920080622),
        (5.358723682190231, 4, 7.898137920080458),
        (59.2000000000001, 4, 7.89813792008043),
        (59.2000000000001, 4, 4.398137920080437),
        (57.007667227026886, 4, 67.14523282481842),
        (60.43845123882554, 4, 67.91260327335034),
        (77.07632061986617, 4, 16.706506585649336),
        (73.74762281283313, 4, 15.624947105337029),
        (45.4153001678449, 4, 63.03128559090625),
        (48.641911770112316, 4, 64.427034102999),
        (65.38186735591856, 4, 12.906748383517566),
        (62.05316954888552, 4, 11.825188903205259),
        (127.57586700245741, 4, -44.21623479008247),
        (125.25135346557457, 4, -46.85361476986196),
        (81.692845925629, 4, -15.206506585649308),
        (83.75009430865266, 4, -12.374947105337),
        (134.536171445565, 4, -34.074159167337456),
        (132.74618821640055, 4, -37.09989814818263),
        (88.92041552259579, 4, -5.2586104634371225),
        (90.97766390561944, 4, -2.427050983124815),
        (48.641911770111946, 4, -64.42703410299882),
        (45.41530016784486, 4, -63.03128559090621),
        (62.053169548885535, 4, -11.825188903205202),
        (65.38186735591856, 4, -12.906748383517517),
        (60.43845123882551, 4, -67.9126032733503),
        (57.0076672270265, 4, -67.14523282481832),
        (73.74762281283314, 4, -15.624947105336986),
        (77.07632061986617, 4, -16.7065065856493),
        (132.74618821640078, 4, 37.099898148182305),
        (134.53617144556503, 4, 34.07415916733745),
        (90.97766390561944, 4, 2.4270509831248406),
        (88.92041552259579, 4, 5.258610463437154),
        (125.25135346557461, 4, 46.85361476986195),
        (127.5758670024577, 4, 44.21623479008218),
        (83.75009430865268, 4, 12.374947105337032),
        (81.69284592562903, 4, 15.206506585649345),
    ]]
    fillet(fillet3_edges, radius=FILLET3_R)


solid = part.part
